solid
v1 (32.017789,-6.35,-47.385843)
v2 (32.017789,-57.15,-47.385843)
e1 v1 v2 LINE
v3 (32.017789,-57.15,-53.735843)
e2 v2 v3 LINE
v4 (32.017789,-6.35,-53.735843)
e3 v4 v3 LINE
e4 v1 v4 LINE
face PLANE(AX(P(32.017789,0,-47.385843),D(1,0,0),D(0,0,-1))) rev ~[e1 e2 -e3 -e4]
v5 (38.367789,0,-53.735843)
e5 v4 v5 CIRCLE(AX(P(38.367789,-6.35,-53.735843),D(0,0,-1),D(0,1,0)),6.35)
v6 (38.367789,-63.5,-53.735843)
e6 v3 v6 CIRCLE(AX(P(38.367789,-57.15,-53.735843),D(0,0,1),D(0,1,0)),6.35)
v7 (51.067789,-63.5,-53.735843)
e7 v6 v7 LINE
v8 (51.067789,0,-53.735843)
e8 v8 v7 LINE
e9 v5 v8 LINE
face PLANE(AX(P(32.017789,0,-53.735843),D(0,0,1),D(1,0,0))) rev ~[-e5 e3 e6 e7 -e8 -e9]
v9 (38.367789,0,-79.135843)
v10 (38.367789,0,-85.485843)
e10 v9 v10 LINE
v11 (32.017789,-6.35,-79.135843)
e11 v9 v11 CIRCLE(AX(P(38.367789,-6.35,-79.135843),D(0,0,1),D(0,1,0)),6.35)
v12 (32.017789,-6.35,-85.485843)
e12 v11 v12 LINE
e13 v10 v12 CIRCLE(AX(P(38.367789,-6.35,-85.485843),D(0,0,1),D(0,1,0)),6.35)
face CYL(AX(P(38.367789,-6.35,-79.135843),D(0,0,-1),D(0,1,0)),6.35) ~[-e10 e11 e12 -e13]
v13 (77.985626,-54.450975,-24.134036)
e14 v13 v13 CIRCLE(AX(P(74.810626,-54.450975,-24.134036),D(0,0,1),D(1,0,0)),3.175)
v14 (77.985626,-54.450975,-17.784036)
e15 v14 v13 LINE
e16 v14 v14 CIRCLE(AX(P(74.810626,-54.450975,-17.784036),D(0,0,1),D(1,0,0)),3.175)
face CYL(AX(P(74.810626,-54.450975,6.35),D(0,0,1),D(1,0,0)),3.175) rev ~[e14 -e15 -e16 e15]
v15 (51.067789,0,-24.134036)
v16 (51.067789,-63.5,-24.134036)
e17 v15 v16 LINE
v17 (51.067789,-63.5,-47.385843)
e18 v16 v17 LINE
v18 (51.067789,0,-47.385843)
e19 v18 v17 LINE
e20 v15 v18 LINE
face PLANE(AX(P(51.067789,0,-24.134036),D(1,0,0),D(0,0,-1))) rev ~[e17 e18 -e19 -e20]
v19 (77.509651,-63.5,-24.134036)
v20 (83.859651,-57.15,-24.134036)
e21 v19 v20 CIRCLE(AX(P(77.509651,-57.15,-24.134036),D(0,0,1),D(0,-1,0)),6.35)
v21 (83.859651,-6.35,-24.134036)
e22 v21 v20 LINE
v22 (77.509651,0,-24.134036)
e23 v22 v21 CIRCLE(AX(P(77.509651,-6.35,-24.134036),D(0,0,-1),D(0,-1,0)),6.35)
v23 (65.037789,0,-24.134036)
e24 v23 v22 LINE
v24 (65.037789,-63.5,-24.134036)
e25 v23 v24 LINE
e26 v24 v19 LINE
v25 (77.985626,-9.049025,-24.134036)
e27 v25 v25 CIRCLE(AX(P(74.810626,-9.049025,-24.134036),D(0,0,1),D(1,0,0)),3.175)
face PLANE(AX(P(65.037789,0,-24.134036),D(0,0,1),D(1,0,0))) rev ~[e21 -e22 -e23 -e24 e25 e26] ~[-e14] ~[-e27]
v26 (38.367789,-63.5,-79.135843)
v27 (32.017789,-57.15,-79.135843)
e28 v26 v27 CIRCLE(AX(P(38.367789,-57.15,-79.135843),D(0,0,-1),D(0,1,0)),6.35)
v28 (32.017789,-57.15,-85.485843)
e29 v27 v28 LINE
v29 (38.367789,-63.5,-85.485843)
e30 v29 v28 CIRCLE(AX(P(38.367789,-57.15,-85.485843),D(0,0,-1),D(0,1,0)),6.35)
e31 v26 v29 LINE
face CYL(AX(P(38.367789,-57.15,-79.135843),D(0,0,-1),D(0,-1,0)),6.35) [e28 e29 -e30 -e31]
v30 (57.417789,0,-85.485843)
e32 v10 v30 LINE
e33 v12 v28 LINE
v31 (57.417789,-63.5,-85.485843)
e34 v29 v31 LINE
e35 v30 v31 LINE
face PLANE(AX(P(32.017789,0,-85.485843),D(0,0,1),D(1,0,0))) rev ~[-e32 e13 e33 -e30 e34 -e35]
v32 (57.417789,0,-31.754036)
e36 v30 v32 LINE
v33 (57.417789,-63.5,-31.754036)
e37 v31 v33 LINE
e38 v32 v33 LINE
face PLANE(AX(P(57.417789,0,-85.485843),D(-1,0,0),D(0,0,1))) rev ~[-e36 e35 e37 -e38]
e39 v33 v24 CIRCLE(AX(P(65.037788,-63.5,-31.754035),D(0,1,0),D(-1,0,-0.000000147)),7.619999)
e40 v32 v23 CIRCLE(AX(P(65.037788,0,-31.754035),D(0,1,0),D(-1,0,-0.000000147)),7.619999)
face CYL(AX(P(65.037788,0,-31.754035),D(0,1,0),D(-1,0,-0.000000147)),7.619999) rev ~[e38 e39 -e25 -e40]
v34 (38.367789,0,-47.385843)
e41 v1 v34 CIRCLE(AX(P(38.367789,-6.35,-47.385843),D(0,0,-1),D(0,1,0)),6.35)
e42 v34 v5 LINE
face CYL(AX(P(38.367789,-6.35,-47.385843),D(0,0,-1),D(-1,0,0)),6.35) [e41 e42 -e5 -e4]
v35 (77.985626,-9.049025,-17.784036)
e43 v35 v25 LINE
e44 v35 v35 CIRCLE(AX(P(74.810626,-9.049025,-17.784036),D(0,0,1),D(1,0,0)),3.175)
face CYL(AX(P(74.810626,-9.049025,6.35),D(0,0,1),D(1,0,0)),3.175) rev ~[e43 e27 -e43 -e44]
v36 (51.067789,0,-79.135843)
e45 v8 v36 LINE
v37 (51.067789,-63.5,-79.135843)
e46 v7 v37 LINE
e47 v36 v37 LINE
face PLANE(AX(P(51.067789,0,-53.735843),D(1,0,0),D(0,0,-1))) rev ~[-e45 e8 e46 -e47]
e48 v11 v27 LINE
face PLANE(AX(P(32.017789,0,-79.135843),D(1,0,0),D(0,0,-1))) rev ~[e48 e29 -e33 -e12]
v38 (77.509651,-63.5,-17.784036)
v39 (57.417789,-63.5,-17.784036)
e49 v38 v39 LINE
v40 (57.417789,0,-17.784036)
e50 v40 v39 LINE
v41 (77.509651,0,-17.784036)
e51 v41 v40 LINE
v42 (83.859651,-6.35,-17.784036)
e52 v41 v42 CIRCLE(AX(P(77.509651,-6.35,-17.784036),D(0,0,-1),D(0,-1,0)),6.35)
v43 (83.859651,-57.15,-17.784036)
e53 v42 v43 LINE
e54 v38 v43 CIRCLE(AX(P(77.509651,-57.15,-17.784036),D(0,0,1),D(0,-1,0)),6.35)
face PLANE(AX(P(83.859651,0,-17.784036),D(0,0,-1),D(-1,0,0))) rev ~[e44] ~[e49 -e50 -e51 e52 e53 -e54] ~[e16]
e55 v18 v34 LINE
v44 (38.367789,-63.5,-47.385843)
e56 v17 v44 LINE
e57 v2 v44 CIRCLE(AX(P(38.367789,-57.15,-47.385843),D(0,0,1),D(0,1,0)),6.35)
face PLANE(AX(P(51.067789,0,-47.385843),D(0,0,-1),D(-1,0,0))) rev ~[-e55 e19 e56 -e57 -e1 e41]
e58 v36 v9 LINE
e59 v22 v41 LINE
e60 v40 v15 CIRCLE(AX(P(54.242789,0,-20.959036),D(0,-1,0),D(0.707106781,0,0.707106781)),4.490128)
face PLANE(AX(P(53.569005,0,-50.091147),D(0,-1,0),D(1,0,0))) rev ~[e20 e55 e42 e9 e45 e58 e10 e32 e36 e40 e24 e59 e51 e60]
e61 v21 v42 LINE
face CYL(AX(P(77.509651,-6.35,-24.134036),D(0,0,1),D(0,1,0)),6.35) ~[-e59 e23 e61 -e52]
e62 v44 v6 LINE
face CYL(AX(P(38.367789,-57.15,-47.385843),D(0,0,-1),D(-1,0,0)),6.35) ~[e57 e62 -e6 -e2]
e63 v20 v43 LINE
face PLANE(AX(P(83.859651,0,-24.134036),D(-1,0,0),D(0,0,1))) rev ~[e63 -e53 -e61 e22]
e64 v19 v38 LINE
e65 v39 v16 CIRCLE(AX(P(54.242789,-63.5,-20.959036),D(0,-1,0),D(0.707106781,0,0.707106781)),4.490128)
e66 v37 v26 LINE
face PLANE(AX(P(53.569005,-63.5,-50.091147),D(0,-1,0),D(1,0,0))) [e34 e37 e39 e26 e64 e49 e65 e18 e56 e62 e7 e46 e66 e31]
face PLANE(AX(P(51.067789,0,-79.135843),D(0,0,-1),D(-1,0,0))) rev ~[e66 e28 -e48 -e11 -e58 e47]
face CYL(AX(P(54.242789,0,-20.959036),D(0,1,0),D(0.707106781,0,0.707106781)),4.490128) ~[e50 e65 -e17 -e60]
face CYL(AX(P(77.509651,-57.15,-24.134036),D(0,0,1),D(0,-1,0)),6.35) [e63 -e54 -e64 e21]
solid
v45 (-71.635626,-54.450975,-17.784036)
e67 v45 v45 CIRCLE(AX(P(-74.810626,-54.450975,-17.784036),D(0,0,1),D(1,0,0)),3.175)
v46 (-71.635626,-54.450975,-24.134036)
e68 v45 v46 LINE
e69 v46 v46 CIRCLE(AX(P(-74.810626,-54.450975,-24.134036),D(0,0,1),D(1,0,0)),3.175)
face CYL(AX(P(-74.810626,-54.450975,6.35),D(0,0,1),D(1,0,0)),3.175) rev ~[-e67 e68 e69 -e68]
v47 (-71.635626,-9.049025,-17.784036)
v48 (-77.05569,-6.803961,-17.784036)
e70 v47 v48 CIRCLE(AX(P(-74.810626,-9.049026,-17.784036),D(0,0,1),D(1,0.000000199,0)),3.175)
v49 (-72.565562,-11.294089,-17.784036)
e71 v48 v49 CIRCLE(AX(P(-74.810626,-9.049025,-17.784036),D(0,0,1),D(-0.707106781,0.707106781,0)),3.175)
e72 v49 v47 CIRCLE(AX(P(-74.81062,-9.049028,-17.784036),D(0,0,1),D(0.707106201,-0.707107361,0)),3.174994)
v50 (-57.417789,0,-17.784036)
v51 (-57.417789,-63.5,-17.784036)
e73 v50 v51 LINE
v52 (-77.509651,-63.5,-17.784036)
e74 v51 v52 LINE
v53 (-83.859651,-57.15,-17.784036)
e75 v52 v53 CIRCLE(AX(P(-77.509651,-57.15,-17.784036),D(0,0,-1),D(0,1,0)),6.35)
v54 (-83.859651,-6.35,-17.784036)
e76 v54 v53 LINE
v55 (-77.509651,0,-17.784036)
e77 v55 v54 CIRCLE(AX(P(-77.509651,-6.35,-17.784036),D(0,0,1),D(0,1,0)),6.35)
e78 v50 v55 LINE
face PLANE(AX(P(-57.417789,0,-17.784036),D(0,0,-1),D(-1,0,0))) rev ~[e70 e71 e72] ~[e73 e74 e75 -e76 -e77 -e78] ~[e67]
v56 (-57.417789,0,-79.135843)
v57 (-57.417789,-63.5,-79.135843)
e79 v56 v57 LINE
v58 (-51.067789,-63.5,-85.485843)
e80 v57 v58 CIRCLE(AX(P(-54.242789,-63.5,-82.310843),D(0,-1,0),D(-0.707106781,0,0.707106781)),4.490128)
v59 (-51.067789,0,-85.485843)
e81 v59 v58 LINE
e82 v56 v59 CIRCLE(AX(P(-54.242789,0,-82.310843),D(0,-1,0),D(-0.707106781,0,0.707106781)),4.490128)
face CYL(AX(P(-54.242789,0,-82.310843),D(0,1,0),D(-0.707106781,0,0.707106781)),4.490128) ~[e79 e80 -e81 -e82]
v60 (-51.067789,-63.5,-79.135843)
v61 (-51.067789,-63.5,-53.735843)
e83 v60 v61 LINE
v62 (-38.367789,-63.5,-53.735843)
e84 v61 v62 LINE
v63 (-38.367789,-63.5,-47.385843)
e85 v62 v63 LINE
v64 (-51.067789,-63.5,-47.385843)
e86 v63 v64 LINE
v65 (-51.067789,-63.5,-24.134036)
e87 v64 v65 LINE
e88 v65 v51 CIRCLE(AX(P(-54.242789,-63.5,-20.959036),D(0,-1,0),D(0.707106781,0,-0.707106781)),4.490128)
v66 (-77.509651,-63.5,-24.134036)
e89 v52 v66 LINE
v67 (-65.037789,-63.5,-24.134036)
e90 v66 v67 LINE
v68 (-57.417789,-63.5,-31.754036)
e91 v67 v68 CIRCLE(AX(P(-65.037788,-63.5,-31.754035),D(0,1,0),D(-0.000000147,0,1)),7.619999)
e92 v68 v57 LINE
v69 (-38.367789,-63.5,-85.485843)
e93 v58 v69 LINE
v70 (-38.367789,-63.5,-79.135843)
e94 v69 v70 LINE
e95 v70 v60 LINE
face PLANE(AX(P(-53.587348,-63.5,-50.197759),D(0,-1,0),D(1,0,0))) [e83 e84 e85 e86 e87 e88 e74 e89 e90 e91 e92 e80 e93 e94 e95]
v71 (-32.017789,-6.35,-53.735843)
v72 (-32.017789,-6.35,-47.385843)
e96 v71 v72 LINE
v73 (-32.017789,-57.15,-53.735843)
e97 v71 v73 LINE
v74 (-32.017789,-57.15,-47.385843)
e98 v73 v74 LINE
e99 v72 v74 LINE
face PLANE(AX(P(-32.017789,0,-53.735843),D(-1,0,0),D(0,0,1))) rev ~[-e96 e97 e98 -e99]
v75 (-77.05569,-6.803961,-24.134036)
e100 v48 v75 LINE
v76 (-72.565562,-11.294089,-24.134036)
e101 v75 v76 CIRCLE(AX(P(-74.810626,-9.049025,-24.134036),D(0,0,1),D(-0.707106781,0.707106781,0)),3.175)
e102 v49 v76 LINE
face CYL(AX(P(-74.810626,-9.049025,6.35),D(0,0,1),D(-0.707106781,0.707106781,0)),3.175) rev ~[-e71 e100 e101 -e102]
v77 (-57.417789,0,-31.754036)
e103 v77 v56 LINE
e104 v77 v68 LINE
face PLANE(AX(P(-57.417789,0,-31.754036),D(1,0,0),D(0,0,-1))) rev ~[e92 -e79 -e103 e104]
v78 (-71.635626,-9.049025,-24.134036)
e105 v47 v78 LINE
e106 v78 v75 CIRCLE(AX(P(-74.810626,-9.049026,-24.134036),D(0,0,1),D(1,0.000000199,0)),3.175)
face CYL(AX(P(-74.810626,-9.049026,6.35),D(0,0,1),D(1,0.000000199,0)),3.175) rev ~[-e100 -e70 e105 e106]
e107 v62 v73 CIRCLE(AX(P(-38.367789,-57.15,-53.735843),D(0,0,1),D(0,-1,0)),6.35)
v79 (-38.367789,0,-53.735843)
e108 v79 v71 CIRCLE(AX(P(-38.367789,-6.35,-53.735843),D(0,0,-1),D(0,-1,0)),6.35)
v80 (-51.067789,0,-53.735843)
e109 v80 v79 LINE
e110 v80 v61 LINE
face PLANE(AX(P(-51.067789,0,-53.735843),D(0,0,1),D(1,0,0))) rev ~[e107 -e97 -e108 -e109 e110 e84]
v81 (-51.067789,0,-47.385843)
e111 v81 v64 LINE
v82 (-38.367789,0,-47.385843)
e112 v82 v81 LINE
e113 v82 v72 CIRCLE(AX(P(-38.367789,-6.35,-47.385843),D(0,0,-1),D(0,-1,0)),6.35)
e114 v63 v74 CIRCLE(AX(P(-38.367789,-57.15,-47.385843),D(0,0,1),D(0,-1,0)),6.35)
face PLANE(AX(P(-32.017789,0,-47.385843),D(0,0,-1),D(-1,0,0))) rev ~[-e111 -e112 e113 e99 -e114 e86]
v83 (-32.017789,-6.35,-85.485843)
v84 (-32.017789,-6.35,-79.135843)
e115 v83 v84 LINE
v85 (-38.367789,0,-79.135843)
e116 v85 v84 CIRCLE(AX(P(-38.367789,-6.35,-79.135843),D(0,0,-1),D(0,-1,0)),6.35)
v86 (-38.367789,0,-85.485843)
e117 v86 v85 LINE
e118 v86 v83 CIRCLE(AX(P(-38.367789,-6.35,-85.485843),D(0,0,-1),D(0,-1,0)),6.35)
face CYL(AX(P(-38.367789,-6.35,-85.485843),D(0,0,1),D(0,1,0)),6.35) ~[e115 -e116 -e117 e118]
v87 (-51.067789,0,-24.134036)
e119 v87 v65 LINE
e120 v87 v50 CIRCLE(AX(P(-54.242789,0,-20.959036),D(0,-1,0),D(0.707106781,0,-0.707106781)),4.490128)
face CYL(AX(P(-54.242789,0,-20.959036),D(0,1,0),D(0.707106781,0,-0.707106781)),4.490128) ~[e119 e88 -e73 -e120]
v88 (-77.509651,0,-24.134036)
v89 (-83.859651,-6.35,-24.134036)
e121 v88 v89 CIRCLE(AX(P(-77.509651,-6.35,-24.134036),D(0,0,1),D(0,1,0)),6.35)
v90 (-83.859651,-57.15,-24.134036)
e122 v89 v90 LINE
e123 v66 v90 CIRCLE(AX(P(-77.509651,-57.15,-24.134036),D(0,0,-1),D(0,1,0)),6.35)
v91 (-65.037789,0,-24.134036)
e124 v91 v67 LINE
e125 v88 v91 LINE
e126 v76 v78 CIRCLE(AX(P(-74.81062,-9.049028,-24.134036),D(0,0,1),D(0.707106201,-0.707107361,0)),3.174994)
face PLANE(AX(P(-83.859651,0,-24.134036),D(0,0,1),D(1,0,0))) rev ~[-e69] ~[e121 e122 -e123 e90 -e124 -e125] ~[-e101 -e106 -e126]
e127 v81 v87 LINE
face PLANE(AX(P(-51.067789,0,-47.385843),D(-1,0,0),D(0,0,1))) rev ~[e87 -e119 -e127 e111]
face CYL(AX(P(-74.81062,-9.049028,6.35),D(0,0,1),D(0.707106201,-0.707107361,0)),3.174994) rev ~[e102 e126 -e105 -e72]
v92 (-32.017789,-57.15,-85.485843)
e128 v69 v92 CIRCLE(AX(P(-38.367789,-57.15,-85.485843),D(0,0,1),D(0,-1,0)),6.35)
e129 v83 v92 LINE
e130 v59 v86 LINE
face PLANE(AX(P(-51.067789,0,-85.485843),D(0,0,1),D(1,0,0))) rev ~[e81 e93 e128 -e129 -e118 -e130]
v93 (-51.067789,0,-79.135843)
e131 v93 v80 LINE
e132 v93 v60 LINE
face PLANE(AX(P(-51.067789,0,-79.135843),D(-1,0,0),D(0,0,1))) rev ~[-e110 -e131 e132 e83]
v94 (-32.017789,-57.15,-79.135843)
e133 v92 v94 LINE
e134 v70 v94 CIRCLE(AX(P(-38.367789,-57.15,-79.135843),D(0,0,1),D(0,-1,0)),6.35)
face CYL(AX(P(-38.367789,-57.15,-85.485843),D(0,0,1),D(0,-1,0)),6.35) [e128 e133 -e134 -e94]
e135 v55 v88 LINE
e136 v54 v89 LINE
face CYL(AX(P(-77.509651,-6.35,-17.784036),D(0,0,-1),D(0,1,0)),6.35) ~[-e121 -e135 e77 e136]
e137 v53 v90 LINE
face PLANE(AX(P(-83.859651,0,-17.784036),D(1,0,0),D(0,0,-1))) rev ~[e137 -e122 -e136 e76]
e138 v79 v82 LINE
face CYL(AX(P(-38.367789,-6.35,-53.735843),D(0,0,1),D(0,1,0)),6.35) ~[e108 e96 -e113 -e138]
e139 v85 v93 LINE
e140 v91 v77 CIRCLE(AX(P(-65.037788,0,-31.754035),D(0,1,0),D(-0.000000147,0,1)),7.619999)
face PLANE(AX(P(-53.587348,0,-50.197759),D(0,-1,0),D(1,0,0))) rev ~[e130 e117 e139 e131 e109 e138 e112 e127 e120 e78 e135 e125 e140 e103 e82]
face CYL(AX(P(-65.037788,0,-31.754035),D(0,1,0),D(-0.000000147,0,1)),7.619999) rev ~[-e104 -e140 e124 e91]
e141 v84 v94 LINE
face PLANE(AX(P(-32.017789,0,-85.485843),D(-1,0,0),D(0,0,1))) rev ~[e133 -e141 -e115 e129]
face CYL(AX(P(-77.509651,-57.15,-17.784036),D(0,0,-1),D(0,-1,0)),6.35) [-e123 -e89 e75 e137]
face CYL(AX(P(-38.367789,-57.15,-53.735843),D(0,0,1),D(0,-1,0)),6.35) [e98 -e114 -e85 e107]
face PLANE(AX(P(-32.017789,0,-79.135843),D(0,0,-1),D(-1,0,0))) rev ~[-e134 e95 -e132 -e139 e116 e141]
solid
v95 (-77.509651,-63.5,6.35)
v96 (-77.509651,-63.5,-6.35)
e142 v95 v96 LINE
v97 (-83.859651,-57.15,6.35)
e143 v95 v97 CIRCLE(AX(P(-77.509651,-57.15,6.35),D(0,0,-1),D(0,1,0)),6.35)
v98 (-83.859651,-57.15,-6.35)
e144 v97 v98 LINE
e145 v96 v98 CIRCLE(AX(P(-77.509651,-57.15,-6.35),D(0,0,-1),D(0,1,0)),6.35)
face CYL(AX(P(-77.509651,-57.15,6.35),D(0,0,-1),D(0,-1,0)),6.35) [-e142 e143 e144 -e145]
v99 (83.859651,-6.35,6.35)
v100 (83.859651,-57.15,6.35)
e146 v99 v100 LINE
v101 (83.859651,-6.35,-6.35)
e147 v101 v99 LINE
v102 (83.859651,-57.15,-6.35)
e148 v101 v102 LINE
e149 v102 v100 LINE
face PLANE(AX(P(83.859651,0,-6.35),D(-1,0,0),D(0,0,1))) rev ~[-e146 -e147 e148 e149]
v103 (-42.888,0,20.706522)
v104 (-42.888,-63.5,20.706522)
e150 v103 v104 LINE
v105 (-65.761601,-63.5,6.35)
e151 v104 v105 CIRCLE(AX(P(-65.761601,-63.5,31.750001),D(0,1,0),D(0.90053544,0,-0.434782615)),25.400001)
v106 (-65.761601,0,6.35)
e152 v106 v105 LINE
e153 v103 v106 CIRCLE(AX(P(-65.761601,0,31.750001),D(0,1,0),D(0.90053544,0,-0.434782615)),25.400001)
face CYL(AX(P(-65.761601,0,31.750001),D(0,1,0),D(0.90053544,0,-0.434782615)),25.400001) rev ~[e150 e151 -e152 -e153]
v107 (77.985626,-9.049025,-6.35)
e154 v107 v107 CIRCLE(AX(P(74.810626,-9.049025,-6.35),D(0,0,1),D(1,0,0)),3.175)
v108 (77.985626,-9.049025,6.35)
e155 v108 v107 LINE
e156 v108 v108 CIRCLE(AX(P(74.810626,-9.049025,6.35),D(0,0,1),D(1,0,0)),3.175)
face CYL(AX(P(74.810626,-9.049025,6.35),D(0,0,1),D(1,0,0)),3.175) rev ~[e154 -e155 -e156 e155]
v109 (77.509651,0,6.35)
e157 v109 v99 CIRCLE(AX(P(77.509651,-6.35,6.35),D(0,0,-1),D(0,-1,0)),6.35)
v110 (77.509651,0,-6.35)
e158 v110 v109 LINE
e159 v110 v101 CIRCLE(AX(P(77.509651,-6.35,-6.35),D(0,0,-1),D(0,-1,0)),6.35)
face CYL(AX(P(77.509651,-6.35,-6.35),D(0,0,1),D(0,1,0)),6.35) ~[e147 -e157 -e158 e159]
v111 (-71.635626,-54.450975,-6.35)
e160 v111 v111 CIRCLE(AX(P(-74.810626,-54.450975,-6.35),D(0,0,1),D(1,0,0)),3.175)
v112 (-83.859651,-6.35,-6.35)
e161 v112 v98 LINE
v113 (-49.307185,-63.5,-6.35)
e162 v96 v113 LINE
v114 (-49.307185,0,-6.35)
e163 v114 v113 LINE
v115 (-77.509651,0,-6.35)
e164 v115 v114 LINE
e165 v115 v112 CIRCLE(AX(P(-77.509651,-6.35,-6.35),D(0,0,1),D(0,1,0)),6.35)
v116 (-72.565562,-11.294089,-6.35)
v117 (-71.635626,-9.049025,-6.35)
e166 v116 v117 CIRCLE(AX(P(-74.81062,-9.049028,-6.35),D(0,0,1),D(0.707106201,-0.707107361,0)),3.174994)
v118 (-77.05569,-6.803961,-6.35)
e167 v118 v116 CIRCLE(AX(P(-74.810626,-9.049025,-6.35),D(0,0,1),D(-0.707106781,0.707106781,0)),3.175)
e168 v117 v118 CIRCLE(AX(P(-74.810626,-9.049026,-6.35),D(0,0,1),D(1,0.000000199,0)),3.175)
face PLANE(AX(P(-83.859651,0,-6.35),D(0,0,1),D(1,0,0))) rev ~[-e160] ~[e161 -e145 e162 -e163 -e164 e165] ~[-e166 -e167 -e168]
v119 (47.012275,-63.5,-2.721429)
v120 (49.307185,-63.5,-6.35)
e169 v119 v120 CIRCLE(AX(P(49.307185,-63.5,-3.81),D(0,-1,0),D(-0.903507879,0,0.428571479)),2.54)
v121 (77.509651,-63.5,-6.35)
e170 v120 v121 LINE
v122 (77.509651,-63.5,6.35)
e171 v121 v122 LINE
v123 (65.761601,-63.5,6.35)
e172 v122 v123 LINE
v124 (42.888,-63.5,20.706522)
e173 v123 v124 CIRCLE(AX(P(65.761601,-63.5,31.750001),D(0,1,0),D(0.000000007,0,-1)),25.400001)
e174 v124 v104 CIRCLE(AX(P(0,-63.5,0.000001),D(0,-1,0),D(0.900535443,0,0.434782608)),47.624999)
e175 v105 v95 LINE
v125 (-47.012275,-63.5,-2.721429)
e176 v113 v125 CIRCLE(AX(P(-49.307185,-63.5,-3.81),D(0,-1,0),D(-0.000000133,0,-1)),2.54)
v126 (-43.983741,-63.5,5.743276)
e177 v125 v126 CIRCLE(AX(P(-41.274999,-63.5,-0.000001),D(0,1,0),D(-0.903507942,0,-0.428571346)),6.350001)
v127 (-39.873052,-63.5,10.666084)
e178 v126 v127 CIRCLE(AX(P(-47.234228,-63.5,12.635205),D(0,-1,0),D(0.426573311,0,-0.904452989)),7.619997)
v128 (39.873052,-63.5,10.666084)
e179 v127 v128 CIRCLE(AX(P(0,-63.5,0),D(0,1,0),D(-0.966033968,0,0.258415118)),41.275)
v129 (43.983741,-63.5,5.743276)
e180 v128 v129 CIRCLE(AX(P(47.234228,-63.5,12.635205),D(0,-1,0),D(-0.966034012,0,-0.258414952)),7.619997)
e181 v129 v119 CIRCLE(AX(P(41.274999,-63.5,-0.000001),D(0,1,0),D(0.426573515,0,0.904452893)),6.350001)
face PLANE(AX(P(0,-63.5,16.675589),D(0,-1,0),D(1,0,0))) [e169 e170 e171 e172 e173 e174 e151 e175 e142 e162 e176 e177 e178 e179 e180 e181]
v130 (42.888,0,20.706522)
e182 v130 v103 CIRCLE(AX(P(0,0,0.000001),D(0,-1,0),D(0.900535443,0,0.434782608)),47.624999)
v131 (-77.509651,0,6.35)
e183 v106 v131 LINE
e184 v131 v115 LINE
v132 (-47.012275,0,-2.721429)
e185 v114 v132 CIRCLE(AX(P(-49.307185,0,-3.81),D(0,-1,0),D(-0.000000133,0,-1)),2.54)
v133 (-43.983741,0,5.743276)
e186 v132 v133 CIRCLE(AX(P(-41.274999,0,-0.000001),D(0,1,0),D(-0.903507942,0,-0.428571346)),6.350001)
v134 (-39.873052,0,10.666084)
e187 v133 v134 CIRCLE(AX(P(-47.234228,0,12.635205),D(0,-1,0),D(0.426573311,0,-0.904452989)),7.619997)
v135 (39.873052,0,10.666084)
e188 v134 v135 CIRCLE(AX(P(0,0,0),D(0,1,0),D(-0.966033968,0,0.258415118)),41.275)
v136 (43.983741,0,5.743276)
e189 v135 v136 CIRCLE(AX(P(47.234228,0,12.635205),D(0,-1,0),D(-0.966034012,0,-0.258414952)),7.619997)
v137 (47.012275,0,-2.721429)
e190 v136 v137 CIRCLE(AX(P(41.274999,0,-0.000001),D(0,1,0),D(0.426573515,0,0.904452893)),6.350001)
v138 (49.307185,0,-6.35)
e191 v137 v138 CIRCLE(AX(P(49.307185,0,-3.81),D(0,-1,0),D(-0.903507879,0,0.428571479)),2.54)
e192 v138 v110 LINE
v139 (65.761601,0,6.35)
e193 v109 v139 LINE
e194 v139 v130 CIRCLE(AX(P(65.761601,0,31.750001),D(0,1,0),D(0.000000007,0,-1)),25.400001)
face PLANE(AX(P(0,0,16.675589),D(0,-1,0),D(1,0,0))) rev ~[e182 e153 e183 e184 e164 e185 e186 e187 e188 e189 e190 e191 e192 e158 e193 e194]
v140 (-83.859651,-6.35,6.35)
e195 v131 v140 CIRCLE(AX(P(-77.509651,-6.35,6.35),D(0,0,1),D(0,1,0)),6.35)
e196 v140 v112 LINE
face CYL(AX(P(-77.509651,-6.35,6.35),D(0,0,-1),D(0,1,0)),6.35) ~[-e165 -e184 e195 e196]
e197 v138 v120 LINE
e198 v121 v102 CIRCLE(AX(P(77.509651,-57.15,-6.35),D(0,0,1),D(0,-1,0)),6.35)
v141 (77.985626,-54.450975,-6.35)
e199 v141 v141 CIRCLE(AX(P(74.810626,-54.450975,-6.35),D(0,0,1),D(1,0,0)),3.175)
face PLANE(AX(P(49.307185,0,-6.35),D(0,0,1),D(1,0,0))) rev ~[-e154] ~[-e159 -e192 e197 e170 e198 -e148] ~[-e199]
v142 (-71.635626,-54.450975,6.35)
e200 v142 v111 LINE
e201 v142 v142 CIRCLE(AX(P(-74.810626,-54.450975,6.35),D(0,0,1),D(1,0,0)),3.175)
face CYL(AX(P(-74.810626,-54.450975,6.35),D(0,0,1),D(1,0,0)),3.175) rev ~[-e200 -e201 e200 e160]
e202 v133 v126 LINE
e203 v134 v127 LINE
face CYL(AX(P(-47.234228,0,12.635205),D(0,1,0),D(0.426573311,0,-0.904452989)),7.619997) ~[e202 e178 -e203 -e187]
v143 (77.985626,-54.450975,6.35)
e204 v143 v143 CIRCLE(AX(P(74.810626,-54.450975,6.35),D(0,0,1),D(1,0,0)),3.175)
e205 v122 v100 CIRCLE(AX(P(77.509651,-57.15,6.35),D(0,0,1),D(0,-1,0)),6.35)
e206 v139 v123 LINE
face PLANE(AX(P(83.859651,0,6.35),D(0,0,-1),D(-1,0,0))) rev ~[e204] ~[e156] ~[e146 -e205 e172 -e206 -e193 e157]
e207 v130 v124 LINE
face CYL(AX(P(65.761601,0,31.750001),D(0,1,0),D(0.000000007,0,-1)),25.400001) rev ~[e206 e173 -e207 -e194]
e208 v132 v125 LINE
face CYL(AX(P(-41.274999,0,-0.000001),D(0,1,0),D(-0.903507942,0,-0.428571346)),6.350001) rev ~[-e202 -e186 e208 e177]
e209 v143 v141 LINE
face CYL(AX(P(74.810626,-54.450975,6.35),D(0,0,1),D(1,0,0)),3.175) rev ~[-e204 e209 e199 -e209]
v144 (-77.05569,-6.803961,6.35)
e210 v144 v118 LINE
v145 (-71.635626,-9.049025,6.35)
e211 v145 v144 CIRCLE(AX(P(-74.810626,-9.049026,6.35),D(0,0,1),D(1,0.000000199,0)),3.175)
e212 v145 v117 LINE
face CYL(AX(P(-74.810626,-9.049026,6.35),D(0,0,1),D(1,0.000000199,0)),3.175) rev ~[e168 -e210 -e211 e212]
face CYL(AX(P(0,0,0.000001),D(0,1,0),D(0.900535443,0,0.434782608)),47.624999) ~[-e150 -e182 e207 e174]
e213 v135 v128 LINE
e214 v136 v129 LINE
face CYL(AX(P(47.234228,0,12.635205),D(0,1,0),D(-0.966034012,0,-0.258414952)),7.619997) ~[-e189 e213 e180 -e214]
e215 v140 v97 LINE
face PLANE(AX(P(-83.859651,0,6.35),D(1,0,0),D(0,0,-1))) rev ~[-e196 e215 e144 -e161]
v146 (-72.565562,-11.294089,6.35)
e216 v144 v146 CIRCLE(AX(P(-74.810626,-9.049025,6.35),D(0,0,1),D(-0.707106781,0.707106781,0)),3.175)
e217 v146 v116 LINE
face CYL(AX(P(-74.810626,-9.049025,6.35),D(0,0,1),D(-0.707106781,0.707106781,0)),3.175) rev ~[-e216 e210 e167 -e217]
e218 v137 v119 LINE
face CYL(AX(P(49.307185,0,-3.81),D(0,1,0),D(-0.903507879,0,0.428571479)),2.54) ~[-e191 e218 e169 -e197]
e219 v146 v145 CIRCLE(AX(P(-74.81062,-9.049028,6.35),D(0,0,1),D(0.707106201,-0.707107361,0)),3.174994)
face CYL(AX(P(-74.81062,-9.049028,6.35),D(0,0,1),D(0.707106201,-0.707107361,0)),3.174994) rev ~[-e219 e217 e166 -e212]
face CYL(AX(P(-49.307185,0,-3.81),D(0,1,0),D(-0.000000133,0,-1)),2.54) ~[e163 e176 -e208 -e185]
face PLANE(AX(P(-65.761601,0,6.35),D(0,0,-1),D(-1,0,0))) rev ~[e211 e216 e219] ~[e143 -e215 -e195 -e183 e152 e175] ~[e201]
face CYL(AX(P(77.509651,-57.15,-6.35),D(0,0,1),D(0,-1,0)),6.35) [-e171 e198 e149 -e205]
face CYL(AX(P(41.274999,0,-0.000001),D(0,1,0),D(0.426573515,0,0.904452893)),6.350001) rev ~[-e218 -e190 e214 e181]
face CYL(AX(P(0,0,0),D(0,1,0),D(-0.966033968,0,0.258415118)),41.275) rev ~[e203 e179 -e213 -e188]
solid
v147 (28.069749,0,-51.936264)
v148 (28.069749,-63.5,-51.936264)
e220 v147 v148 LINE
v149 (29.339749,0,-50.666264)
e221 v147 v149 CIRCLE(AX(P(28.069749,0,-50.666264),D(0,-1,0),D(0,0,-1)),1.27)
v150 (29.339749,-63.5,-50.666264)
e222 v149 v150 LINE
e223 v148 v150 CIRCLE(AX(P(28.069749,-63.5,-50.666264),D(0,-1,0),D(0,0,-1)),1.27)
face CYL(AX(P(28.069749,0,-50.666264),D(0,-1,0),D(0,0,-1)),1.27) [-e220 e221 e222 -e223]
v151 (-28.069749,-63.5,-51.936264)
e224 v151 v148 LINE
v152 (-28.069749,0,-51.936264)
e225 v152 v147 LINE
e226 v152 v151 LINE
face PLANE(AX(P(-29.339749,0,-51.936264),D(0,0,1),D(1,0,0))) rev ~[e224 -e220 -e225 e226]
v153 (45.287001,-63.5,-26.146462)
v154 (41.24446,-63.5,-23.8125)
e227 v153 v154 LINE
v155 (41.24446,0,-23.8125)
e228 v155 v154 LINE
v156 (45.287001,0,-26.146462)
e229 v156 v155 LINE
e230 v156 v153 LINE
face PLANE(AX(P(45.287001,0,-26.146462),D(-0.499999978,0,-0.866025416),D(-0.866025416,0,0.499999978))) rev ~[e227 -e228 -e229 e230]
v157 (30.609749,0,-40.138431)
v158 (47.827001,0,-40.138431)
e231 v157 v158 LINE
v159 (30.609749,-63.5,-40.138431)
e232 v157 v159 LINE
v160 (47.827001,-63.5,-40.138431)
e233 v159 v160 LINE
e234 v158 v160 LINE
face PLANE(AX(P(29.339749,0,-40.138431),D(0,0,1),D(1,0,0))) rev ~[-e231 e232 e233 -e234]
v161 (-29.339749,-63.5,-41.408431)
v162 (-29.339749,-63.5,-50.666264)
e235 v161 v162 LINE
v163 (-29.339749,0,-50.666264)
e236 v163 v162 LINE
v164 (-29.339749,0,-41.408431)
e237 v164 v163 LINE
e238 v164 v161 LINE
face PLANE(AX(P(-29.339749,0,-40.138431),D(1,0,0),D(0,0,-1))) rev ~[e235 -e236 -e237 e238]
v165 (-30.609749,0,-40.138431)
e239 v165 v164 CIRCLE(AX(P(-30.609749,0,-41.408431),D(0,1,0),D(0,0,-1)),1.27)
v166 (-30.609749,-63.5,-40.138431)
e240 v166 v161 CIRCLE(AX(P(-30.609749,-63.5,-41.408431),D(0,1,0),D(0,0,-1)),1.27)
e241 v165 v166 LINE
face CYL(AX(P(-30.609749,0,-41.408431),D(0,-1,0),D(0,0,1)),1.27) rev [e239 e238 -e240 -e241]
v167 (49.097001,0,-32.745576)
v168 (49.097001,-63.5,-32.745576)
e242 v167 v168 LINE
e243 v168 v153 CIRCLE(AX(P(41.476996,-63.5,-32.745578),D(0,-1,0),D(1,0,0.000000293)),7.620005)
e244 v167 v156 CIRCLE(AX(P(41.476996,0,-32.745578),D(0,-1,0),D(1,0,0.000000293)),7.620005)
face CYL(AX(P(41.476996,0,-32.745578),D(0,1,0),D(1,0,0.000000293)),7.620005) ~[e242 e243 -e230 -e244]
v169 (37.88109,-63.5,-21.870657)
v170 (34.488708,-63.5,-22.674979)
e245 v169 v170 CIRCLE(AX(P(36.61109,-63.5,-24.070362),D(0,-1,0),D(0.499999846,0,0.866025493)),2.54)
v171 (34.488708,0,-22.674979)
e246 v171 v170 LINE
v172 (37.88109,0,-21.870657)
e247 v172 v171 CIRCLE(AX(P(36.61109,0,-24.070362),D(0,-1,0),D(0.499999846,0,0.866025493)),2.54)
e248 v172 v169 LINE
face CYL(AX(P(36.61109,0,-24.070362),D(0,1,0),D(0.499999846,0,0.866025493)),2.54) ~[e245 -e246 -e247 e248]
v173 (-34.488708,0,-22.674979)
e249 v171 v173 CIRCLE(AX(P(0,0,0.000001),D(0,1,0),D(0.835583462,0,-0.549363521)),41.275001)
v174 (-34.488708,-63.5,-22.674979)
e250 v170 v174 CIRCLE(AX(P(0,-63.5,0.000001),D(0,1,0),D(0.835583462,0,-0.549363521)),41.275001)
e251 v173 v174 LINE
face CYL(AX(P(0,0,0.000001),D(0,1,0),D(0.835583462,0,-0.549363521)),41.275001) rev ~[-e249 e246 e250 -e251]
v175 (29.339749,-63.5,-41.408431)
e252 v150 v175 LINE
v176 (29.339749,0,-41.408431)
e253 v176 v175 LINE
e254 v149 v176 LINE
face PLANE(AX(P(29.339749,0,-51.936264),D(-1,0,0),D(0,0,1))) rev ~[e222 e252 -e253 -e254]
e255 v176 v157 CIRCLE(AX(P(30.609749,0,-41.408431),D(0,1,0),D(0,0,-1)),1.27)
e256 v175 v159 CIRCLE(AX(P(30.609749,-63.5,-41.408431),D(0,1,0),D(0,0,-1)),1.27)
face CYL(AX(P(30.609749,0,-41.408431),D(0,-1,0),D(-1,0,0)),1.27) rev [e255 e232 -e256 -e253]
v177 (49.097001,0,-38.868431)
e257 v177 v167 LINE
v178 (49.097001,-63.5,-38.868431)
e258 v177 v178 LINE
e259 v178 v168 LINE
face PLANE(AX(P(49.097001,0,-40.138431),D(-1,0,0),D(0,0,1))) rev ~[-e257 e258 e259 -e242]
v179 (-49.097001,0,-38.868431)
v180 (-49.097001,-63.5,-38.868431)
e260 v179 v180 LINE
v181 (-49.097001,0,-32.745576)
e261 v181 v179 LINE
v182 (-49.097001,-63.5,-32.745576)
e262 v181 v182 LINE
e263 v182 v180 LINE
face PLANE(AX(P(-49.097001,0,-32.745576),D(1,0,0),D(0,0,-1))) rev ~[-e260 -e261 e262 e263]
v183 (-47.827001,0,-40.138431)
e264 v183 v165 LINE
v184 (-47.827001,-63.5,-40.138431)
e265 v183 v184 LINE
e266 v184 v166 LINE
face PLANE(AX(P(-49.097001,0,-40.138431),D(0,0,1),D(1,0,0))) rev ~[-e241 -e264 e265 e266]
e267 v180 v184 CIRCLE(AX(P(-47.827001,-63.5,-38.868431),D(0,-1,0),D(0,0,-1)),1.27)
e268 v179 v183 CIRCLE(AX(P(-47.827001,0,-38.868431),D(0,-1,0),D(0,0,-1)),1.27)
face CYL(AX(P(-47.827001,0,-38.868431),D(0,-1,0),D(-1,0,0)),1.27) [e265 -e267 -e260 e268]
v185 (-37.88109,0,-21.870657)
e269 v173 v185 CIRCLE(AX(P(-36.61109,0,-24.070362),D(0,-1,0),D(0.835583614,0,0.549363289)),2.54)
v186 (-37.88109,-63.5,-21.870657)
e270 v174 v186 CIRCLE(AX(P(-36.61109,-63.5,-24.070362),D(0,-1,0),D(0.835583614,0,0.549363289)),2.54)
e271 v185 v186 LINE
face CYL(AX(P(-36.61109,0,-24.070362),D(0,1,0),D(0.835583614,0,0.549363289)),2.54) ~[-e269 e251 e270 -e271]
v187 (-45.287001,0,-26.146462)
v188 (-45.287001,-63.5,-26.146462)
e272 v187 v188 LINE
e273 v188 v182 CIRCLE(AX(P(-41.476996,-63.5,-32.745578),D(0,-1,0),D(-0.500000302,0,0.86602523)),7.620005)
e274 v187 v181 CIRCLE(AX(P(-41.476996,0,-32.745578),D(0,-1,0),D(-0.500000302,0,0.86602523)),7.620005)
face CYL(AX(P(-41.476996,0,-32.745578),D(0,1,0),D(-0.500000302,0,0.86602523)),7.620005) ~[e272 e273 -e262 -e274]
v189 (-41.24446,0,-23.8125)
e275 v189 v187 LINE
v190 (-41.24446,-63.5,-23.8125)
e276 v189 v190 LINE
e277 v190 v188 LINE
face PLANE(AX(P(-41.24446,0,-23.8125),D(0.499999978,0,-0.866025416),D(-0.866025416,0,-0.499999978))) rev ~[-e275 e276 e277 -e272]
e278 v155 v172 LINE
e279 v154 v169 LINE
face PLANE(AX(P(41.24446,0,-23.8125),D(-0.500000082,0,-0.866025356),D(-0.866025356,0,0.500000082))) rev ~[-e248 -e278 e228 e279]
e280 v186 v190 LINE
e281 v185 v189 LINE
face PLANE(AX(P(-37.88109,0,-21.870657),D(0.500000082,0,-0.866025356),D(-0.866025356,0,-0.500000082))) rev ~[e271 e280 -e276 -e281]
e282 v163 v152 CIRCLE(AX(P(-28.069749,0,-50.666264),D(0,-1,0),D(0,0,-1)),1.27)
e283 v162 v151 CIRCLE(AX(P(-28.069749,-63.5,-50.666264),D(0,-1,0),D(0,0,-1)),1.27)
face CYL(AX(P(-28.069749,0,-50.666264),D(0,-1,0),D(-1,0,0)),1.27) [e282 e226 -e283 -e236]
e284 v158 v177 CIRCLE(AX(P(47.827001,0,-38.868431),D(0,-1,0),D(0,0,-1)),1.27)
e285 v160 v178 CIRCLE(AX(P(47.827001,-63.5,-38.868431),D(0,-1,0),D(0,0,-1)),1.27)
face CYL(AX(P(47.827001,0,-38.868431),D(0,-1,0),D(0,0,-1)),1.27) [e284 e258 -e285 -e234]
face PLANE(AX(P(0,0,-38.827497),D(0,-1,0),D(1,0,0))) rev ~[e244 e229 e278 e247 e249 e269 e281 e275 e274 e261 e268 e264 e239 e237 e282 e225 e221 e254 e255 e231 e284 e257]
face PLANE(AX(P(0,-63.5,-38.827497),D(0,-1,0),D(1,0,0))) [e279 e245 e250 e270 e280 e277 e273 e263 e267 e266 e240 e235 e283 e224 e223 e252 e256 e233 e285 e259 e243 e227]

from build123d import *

# Parameters (mm, degrees)
F1_DEPTH = 63.5
F2_R     = 3.175
F3_DEPTH = 93.151971
F4_R     = 6.35
F5_R     = 1.27


with BuildPart() as f1:
    # F0 (on Front) → F1 (new body)
    with BuildSketch(Plane.XZ):
        with BuildLine():
            ThreePointArc((-47.012275, -2.721429), (-47.253846, 2.139134), (-43.983741, 5.743276))
            ThreePointArc((-43.983741, 5.743276), (-41.385266, 7.75115), (-39.873052, 10.666084))
            ThreePointArc((-39.873052, 10.666084), (0, 41.275), (39.873052, 10.666084))
            ThreePointArc((39.873052, 10.666084), (41.385266, 7.75115), (43.983741, 5.743276))
            ThreePointArc((43.983741, 5.743276), (47.253846, 2.139134), (47.012275, -2.721429))
            ThreePointArc((47.012275, -2.721429), (47.160493, -5.167687), (49.307185, -6.35))
            Line((49.307185, -6.35), (83.859651, -6.35))
            Line((83.859651, -6.35), (83.859651, 6.35))
            Line((83.859651, 6.35), (65.761601, 6.35))
            ThreePointArc((65.761601, 6.35), (52.258719, 10.236465), (42.888, 20.706522))
            ThreePointArc((42.888, 20.706522), (0, 47.625), (-42.888, 20.706522))
            ThreePointArc((-42.888, 20.706522), (-52.258719, 10.236465), (-65.761601, 6.35))
            Line((-65.761601, 6.35), (-83.859651, 6.35))
            Line((-83.859651, 6.35), (-83.859651, -6.35))
            Line((-83.859651, -6.35), (-49.307185, -6.35))
            ThreePointArc((-49.307185, -6.35), (-47.160493, -5.167687), (-47.012275, -2.721429))
        make_face()
        with BuildLine():
            Line((-51.067789, -79.135843), (-51.067789, -53.735843))
            Line((-51.067789, -53.735843), (-32.017789, -53.735843))
            Line((-32.017789, -53.735843), (-32.017789, -47.385843))
            Line((-32.017789, -47.385843), (-51.067789, -47.385843))
            Line((-51.067789, -47.385843), (-51.067789, -24.134036))
            ThreePointArc((-51.067789, -24.134036), (-51.067789, -17.784036), (-57.417789, -17.784036))
            Line((-57.417789, -17.784036), (-83.859651, -17.784036))
            Line((-83.859651, -17.784036), (-83.859651, -24.134036))
            Line((-83.859651, -24.134036), (-65.037789, -24.134036))
            ThreePointArc((-65.037789, -24.134036), (-59.649635, -26.365882), (-57.417789, -31.754036))
            Line((-57.417789, -31.754036), (-57.417789, -47.385843))
            Line((-57.417789, -47.385843), (-57.417789, -79.135843))
            ThreePointArc((-57.417789, -79.135843), (-57.417789, -85.485843), (-51.067789, -85.485843))
            Line((-51.067789, -85.485843), (-32.017789, -85.485843))
            Line((-32.017789, -85.485843), (-32.017789, -79.135843))
            Line((-32.017789, -79.135843), (-51.067789, -79.135843))
        make_face()
        with BuildLine():
            ThreePointArc((-34.488708, -22.674979), (-36.02511, -21.598879), (-37.88109, -21.870657))
            Line((-37.88109, -21.870657), (-41.24446, -23.8125))
            Line((-41.24446, -23.8125), (-45.287001, -26.146462))
            ThreePointArc((-45.287001, -26.146462), (-48.076114, -28.935576), (-49.097001, -32.745576))
            Line((-49.097001, -32.745576), (-49.097001, -40.138431))
            Line((-49.097001, -40.138431), (-29.339749, -40.138431))
            Line((-29.339749, -40.138431), (-29.339749, -51.936264))
            Line((-29.339749, -51.936264), (29.339749, -51.936264))
            Line((29.339749, -51.936264), (29.339749, -40.138431))
            Line((29.339749, -40.138431), (49.097001, -40.138431))
            Line((49.097001, -40.138431), (49.097001, -32.745576))
            ThreePointArc((49.097001, -32.745576), (48.076114, -28.935576), (45.287001, -26.146462))
            Line((45.287001, -26.146462), (41.24446, -23.8125))
            Line((41.24446, -23.8125), (37.88109, -21.870657))
            ThreePointArc((37.88109, -21.870657), (36.02511, -21.598879), (34.488708, -22.674979))
            ThreePointArc((34.488708, -22.674979), (0, -41.275), (-34.488708, -22.674979))
        make_face()
        with BuildLine():
            Line((32.017789, -53.735843), (51.067789, -53.735843))
            Line((51.067789, -53.735843), (51.067789, -79.135843))
            Line((51.067789, -79.135843), (32.017789, -79.135843))
            Line((32.017789, -79.135843), (32.017789, -85.485843))
            Line((32.017789, -85.485843), (57.417789, -85.485843))
            Line((57.417789, -85.485843), (57.417789, -47.385843))
            Line((57.417789, -47.385843), (57.417789, -31.754036))
            ThreePointArc((57.417789, -31.754036), (59.649635, -26.365882), (65.037789, -24.134036))
            Line((65.037789, -24.134036), (83.859651, -24.134036))
            Line((83.859651, -24.134036), (83.859651, -17.784036))
            Line((83.859651, -17.784036), (57.417789, -17.784036))
            ThreePointArc((57.417789, -17.784036), (51.067789, -17.784036), (51.067789, -24.134036))
            Line((51.067789, -24.134036), (51.067789, -47.385843))
            Line((51.067789, -47.385843), (32.017789, -47.385843))
            Line((32.017789, -47.385843), (32.017789, -53.735843))
        make_face()
    extrude(amount=F1_DEPTH)

    # F2 (on face) → F3 (cut, through all)
    with BuildSketch(Plane.XY.offset(6.35)):
        with BuildLine():
            ThreePointArc((-71.635626, -9.049025), (-73.595606, -6.115708), (-77.05569, -6.803961))
            ThreePointArc((-77.05569, -6.803961), (-77.05569, -11.294089), (-72.565562, -11.294089))
            ThreePointArc((-72.565562, -11.294089), (-71.877308, -10.264045), (-71.635626, -9.049025))
        make_face()
        with Locations((-74.810626, -54.450975)):
            Circle(F2_R)
        with Locations((74.810626, -54.450975)):
            Circle(F2_R)
        with Locations((74.810626, -9.049025)):
            Circle(F2_R)
    extrude(amount=-F3_DEPTH, mode=Mode.SUBTRACT)

    # F4
    f4_edges = [f1.edges().sort_by_distance(p)[0] for p in [
        (-83.859651, 0, 0),
        (-83.859651, 0, -20.959036),
        (-83.859651, -63.5, 0),
        (-83.859651, -63.5, -20.959036),
        (83.859651, -63.5, 0),
        (83.859651, 0, 0),
        (83.859651, 0, -20.959036),
        (83.859651, -63.5, -20.959036),
        (32.017789, 0, -82.310843),
        (32.017789, 0, -50.560843),
        (-32.017789, 0, -50.560843),
        (-32.017789, 0, -82.310843),
        (32.017789, -63.5, -82.310843),
        (32.017789, -63.5, -50.560843),
        (-32.017789, -63.5, -50.560843),
        (-32.017789, -63.5, -82.310843),
    ]]
    fillet(f4_edges, radius=F4_R)

    # F5
    f5_edges = [f1.edges().sort_by_distance(p)[0] for p in [
        (29.339749, -31.75, -40.138431),
        (29.339749, -31.75, -51.936264),
        (-29.339749, -31.75, -51.936264),
        (-29.339749, -31.75, -40.138431),
        (49.097001, -31.75, -40.138431),
        (-49.097001, -31.75, -40.138431),
    ]]
    fillet(f5_edges, radius=F5_R)


solid = f1.part
